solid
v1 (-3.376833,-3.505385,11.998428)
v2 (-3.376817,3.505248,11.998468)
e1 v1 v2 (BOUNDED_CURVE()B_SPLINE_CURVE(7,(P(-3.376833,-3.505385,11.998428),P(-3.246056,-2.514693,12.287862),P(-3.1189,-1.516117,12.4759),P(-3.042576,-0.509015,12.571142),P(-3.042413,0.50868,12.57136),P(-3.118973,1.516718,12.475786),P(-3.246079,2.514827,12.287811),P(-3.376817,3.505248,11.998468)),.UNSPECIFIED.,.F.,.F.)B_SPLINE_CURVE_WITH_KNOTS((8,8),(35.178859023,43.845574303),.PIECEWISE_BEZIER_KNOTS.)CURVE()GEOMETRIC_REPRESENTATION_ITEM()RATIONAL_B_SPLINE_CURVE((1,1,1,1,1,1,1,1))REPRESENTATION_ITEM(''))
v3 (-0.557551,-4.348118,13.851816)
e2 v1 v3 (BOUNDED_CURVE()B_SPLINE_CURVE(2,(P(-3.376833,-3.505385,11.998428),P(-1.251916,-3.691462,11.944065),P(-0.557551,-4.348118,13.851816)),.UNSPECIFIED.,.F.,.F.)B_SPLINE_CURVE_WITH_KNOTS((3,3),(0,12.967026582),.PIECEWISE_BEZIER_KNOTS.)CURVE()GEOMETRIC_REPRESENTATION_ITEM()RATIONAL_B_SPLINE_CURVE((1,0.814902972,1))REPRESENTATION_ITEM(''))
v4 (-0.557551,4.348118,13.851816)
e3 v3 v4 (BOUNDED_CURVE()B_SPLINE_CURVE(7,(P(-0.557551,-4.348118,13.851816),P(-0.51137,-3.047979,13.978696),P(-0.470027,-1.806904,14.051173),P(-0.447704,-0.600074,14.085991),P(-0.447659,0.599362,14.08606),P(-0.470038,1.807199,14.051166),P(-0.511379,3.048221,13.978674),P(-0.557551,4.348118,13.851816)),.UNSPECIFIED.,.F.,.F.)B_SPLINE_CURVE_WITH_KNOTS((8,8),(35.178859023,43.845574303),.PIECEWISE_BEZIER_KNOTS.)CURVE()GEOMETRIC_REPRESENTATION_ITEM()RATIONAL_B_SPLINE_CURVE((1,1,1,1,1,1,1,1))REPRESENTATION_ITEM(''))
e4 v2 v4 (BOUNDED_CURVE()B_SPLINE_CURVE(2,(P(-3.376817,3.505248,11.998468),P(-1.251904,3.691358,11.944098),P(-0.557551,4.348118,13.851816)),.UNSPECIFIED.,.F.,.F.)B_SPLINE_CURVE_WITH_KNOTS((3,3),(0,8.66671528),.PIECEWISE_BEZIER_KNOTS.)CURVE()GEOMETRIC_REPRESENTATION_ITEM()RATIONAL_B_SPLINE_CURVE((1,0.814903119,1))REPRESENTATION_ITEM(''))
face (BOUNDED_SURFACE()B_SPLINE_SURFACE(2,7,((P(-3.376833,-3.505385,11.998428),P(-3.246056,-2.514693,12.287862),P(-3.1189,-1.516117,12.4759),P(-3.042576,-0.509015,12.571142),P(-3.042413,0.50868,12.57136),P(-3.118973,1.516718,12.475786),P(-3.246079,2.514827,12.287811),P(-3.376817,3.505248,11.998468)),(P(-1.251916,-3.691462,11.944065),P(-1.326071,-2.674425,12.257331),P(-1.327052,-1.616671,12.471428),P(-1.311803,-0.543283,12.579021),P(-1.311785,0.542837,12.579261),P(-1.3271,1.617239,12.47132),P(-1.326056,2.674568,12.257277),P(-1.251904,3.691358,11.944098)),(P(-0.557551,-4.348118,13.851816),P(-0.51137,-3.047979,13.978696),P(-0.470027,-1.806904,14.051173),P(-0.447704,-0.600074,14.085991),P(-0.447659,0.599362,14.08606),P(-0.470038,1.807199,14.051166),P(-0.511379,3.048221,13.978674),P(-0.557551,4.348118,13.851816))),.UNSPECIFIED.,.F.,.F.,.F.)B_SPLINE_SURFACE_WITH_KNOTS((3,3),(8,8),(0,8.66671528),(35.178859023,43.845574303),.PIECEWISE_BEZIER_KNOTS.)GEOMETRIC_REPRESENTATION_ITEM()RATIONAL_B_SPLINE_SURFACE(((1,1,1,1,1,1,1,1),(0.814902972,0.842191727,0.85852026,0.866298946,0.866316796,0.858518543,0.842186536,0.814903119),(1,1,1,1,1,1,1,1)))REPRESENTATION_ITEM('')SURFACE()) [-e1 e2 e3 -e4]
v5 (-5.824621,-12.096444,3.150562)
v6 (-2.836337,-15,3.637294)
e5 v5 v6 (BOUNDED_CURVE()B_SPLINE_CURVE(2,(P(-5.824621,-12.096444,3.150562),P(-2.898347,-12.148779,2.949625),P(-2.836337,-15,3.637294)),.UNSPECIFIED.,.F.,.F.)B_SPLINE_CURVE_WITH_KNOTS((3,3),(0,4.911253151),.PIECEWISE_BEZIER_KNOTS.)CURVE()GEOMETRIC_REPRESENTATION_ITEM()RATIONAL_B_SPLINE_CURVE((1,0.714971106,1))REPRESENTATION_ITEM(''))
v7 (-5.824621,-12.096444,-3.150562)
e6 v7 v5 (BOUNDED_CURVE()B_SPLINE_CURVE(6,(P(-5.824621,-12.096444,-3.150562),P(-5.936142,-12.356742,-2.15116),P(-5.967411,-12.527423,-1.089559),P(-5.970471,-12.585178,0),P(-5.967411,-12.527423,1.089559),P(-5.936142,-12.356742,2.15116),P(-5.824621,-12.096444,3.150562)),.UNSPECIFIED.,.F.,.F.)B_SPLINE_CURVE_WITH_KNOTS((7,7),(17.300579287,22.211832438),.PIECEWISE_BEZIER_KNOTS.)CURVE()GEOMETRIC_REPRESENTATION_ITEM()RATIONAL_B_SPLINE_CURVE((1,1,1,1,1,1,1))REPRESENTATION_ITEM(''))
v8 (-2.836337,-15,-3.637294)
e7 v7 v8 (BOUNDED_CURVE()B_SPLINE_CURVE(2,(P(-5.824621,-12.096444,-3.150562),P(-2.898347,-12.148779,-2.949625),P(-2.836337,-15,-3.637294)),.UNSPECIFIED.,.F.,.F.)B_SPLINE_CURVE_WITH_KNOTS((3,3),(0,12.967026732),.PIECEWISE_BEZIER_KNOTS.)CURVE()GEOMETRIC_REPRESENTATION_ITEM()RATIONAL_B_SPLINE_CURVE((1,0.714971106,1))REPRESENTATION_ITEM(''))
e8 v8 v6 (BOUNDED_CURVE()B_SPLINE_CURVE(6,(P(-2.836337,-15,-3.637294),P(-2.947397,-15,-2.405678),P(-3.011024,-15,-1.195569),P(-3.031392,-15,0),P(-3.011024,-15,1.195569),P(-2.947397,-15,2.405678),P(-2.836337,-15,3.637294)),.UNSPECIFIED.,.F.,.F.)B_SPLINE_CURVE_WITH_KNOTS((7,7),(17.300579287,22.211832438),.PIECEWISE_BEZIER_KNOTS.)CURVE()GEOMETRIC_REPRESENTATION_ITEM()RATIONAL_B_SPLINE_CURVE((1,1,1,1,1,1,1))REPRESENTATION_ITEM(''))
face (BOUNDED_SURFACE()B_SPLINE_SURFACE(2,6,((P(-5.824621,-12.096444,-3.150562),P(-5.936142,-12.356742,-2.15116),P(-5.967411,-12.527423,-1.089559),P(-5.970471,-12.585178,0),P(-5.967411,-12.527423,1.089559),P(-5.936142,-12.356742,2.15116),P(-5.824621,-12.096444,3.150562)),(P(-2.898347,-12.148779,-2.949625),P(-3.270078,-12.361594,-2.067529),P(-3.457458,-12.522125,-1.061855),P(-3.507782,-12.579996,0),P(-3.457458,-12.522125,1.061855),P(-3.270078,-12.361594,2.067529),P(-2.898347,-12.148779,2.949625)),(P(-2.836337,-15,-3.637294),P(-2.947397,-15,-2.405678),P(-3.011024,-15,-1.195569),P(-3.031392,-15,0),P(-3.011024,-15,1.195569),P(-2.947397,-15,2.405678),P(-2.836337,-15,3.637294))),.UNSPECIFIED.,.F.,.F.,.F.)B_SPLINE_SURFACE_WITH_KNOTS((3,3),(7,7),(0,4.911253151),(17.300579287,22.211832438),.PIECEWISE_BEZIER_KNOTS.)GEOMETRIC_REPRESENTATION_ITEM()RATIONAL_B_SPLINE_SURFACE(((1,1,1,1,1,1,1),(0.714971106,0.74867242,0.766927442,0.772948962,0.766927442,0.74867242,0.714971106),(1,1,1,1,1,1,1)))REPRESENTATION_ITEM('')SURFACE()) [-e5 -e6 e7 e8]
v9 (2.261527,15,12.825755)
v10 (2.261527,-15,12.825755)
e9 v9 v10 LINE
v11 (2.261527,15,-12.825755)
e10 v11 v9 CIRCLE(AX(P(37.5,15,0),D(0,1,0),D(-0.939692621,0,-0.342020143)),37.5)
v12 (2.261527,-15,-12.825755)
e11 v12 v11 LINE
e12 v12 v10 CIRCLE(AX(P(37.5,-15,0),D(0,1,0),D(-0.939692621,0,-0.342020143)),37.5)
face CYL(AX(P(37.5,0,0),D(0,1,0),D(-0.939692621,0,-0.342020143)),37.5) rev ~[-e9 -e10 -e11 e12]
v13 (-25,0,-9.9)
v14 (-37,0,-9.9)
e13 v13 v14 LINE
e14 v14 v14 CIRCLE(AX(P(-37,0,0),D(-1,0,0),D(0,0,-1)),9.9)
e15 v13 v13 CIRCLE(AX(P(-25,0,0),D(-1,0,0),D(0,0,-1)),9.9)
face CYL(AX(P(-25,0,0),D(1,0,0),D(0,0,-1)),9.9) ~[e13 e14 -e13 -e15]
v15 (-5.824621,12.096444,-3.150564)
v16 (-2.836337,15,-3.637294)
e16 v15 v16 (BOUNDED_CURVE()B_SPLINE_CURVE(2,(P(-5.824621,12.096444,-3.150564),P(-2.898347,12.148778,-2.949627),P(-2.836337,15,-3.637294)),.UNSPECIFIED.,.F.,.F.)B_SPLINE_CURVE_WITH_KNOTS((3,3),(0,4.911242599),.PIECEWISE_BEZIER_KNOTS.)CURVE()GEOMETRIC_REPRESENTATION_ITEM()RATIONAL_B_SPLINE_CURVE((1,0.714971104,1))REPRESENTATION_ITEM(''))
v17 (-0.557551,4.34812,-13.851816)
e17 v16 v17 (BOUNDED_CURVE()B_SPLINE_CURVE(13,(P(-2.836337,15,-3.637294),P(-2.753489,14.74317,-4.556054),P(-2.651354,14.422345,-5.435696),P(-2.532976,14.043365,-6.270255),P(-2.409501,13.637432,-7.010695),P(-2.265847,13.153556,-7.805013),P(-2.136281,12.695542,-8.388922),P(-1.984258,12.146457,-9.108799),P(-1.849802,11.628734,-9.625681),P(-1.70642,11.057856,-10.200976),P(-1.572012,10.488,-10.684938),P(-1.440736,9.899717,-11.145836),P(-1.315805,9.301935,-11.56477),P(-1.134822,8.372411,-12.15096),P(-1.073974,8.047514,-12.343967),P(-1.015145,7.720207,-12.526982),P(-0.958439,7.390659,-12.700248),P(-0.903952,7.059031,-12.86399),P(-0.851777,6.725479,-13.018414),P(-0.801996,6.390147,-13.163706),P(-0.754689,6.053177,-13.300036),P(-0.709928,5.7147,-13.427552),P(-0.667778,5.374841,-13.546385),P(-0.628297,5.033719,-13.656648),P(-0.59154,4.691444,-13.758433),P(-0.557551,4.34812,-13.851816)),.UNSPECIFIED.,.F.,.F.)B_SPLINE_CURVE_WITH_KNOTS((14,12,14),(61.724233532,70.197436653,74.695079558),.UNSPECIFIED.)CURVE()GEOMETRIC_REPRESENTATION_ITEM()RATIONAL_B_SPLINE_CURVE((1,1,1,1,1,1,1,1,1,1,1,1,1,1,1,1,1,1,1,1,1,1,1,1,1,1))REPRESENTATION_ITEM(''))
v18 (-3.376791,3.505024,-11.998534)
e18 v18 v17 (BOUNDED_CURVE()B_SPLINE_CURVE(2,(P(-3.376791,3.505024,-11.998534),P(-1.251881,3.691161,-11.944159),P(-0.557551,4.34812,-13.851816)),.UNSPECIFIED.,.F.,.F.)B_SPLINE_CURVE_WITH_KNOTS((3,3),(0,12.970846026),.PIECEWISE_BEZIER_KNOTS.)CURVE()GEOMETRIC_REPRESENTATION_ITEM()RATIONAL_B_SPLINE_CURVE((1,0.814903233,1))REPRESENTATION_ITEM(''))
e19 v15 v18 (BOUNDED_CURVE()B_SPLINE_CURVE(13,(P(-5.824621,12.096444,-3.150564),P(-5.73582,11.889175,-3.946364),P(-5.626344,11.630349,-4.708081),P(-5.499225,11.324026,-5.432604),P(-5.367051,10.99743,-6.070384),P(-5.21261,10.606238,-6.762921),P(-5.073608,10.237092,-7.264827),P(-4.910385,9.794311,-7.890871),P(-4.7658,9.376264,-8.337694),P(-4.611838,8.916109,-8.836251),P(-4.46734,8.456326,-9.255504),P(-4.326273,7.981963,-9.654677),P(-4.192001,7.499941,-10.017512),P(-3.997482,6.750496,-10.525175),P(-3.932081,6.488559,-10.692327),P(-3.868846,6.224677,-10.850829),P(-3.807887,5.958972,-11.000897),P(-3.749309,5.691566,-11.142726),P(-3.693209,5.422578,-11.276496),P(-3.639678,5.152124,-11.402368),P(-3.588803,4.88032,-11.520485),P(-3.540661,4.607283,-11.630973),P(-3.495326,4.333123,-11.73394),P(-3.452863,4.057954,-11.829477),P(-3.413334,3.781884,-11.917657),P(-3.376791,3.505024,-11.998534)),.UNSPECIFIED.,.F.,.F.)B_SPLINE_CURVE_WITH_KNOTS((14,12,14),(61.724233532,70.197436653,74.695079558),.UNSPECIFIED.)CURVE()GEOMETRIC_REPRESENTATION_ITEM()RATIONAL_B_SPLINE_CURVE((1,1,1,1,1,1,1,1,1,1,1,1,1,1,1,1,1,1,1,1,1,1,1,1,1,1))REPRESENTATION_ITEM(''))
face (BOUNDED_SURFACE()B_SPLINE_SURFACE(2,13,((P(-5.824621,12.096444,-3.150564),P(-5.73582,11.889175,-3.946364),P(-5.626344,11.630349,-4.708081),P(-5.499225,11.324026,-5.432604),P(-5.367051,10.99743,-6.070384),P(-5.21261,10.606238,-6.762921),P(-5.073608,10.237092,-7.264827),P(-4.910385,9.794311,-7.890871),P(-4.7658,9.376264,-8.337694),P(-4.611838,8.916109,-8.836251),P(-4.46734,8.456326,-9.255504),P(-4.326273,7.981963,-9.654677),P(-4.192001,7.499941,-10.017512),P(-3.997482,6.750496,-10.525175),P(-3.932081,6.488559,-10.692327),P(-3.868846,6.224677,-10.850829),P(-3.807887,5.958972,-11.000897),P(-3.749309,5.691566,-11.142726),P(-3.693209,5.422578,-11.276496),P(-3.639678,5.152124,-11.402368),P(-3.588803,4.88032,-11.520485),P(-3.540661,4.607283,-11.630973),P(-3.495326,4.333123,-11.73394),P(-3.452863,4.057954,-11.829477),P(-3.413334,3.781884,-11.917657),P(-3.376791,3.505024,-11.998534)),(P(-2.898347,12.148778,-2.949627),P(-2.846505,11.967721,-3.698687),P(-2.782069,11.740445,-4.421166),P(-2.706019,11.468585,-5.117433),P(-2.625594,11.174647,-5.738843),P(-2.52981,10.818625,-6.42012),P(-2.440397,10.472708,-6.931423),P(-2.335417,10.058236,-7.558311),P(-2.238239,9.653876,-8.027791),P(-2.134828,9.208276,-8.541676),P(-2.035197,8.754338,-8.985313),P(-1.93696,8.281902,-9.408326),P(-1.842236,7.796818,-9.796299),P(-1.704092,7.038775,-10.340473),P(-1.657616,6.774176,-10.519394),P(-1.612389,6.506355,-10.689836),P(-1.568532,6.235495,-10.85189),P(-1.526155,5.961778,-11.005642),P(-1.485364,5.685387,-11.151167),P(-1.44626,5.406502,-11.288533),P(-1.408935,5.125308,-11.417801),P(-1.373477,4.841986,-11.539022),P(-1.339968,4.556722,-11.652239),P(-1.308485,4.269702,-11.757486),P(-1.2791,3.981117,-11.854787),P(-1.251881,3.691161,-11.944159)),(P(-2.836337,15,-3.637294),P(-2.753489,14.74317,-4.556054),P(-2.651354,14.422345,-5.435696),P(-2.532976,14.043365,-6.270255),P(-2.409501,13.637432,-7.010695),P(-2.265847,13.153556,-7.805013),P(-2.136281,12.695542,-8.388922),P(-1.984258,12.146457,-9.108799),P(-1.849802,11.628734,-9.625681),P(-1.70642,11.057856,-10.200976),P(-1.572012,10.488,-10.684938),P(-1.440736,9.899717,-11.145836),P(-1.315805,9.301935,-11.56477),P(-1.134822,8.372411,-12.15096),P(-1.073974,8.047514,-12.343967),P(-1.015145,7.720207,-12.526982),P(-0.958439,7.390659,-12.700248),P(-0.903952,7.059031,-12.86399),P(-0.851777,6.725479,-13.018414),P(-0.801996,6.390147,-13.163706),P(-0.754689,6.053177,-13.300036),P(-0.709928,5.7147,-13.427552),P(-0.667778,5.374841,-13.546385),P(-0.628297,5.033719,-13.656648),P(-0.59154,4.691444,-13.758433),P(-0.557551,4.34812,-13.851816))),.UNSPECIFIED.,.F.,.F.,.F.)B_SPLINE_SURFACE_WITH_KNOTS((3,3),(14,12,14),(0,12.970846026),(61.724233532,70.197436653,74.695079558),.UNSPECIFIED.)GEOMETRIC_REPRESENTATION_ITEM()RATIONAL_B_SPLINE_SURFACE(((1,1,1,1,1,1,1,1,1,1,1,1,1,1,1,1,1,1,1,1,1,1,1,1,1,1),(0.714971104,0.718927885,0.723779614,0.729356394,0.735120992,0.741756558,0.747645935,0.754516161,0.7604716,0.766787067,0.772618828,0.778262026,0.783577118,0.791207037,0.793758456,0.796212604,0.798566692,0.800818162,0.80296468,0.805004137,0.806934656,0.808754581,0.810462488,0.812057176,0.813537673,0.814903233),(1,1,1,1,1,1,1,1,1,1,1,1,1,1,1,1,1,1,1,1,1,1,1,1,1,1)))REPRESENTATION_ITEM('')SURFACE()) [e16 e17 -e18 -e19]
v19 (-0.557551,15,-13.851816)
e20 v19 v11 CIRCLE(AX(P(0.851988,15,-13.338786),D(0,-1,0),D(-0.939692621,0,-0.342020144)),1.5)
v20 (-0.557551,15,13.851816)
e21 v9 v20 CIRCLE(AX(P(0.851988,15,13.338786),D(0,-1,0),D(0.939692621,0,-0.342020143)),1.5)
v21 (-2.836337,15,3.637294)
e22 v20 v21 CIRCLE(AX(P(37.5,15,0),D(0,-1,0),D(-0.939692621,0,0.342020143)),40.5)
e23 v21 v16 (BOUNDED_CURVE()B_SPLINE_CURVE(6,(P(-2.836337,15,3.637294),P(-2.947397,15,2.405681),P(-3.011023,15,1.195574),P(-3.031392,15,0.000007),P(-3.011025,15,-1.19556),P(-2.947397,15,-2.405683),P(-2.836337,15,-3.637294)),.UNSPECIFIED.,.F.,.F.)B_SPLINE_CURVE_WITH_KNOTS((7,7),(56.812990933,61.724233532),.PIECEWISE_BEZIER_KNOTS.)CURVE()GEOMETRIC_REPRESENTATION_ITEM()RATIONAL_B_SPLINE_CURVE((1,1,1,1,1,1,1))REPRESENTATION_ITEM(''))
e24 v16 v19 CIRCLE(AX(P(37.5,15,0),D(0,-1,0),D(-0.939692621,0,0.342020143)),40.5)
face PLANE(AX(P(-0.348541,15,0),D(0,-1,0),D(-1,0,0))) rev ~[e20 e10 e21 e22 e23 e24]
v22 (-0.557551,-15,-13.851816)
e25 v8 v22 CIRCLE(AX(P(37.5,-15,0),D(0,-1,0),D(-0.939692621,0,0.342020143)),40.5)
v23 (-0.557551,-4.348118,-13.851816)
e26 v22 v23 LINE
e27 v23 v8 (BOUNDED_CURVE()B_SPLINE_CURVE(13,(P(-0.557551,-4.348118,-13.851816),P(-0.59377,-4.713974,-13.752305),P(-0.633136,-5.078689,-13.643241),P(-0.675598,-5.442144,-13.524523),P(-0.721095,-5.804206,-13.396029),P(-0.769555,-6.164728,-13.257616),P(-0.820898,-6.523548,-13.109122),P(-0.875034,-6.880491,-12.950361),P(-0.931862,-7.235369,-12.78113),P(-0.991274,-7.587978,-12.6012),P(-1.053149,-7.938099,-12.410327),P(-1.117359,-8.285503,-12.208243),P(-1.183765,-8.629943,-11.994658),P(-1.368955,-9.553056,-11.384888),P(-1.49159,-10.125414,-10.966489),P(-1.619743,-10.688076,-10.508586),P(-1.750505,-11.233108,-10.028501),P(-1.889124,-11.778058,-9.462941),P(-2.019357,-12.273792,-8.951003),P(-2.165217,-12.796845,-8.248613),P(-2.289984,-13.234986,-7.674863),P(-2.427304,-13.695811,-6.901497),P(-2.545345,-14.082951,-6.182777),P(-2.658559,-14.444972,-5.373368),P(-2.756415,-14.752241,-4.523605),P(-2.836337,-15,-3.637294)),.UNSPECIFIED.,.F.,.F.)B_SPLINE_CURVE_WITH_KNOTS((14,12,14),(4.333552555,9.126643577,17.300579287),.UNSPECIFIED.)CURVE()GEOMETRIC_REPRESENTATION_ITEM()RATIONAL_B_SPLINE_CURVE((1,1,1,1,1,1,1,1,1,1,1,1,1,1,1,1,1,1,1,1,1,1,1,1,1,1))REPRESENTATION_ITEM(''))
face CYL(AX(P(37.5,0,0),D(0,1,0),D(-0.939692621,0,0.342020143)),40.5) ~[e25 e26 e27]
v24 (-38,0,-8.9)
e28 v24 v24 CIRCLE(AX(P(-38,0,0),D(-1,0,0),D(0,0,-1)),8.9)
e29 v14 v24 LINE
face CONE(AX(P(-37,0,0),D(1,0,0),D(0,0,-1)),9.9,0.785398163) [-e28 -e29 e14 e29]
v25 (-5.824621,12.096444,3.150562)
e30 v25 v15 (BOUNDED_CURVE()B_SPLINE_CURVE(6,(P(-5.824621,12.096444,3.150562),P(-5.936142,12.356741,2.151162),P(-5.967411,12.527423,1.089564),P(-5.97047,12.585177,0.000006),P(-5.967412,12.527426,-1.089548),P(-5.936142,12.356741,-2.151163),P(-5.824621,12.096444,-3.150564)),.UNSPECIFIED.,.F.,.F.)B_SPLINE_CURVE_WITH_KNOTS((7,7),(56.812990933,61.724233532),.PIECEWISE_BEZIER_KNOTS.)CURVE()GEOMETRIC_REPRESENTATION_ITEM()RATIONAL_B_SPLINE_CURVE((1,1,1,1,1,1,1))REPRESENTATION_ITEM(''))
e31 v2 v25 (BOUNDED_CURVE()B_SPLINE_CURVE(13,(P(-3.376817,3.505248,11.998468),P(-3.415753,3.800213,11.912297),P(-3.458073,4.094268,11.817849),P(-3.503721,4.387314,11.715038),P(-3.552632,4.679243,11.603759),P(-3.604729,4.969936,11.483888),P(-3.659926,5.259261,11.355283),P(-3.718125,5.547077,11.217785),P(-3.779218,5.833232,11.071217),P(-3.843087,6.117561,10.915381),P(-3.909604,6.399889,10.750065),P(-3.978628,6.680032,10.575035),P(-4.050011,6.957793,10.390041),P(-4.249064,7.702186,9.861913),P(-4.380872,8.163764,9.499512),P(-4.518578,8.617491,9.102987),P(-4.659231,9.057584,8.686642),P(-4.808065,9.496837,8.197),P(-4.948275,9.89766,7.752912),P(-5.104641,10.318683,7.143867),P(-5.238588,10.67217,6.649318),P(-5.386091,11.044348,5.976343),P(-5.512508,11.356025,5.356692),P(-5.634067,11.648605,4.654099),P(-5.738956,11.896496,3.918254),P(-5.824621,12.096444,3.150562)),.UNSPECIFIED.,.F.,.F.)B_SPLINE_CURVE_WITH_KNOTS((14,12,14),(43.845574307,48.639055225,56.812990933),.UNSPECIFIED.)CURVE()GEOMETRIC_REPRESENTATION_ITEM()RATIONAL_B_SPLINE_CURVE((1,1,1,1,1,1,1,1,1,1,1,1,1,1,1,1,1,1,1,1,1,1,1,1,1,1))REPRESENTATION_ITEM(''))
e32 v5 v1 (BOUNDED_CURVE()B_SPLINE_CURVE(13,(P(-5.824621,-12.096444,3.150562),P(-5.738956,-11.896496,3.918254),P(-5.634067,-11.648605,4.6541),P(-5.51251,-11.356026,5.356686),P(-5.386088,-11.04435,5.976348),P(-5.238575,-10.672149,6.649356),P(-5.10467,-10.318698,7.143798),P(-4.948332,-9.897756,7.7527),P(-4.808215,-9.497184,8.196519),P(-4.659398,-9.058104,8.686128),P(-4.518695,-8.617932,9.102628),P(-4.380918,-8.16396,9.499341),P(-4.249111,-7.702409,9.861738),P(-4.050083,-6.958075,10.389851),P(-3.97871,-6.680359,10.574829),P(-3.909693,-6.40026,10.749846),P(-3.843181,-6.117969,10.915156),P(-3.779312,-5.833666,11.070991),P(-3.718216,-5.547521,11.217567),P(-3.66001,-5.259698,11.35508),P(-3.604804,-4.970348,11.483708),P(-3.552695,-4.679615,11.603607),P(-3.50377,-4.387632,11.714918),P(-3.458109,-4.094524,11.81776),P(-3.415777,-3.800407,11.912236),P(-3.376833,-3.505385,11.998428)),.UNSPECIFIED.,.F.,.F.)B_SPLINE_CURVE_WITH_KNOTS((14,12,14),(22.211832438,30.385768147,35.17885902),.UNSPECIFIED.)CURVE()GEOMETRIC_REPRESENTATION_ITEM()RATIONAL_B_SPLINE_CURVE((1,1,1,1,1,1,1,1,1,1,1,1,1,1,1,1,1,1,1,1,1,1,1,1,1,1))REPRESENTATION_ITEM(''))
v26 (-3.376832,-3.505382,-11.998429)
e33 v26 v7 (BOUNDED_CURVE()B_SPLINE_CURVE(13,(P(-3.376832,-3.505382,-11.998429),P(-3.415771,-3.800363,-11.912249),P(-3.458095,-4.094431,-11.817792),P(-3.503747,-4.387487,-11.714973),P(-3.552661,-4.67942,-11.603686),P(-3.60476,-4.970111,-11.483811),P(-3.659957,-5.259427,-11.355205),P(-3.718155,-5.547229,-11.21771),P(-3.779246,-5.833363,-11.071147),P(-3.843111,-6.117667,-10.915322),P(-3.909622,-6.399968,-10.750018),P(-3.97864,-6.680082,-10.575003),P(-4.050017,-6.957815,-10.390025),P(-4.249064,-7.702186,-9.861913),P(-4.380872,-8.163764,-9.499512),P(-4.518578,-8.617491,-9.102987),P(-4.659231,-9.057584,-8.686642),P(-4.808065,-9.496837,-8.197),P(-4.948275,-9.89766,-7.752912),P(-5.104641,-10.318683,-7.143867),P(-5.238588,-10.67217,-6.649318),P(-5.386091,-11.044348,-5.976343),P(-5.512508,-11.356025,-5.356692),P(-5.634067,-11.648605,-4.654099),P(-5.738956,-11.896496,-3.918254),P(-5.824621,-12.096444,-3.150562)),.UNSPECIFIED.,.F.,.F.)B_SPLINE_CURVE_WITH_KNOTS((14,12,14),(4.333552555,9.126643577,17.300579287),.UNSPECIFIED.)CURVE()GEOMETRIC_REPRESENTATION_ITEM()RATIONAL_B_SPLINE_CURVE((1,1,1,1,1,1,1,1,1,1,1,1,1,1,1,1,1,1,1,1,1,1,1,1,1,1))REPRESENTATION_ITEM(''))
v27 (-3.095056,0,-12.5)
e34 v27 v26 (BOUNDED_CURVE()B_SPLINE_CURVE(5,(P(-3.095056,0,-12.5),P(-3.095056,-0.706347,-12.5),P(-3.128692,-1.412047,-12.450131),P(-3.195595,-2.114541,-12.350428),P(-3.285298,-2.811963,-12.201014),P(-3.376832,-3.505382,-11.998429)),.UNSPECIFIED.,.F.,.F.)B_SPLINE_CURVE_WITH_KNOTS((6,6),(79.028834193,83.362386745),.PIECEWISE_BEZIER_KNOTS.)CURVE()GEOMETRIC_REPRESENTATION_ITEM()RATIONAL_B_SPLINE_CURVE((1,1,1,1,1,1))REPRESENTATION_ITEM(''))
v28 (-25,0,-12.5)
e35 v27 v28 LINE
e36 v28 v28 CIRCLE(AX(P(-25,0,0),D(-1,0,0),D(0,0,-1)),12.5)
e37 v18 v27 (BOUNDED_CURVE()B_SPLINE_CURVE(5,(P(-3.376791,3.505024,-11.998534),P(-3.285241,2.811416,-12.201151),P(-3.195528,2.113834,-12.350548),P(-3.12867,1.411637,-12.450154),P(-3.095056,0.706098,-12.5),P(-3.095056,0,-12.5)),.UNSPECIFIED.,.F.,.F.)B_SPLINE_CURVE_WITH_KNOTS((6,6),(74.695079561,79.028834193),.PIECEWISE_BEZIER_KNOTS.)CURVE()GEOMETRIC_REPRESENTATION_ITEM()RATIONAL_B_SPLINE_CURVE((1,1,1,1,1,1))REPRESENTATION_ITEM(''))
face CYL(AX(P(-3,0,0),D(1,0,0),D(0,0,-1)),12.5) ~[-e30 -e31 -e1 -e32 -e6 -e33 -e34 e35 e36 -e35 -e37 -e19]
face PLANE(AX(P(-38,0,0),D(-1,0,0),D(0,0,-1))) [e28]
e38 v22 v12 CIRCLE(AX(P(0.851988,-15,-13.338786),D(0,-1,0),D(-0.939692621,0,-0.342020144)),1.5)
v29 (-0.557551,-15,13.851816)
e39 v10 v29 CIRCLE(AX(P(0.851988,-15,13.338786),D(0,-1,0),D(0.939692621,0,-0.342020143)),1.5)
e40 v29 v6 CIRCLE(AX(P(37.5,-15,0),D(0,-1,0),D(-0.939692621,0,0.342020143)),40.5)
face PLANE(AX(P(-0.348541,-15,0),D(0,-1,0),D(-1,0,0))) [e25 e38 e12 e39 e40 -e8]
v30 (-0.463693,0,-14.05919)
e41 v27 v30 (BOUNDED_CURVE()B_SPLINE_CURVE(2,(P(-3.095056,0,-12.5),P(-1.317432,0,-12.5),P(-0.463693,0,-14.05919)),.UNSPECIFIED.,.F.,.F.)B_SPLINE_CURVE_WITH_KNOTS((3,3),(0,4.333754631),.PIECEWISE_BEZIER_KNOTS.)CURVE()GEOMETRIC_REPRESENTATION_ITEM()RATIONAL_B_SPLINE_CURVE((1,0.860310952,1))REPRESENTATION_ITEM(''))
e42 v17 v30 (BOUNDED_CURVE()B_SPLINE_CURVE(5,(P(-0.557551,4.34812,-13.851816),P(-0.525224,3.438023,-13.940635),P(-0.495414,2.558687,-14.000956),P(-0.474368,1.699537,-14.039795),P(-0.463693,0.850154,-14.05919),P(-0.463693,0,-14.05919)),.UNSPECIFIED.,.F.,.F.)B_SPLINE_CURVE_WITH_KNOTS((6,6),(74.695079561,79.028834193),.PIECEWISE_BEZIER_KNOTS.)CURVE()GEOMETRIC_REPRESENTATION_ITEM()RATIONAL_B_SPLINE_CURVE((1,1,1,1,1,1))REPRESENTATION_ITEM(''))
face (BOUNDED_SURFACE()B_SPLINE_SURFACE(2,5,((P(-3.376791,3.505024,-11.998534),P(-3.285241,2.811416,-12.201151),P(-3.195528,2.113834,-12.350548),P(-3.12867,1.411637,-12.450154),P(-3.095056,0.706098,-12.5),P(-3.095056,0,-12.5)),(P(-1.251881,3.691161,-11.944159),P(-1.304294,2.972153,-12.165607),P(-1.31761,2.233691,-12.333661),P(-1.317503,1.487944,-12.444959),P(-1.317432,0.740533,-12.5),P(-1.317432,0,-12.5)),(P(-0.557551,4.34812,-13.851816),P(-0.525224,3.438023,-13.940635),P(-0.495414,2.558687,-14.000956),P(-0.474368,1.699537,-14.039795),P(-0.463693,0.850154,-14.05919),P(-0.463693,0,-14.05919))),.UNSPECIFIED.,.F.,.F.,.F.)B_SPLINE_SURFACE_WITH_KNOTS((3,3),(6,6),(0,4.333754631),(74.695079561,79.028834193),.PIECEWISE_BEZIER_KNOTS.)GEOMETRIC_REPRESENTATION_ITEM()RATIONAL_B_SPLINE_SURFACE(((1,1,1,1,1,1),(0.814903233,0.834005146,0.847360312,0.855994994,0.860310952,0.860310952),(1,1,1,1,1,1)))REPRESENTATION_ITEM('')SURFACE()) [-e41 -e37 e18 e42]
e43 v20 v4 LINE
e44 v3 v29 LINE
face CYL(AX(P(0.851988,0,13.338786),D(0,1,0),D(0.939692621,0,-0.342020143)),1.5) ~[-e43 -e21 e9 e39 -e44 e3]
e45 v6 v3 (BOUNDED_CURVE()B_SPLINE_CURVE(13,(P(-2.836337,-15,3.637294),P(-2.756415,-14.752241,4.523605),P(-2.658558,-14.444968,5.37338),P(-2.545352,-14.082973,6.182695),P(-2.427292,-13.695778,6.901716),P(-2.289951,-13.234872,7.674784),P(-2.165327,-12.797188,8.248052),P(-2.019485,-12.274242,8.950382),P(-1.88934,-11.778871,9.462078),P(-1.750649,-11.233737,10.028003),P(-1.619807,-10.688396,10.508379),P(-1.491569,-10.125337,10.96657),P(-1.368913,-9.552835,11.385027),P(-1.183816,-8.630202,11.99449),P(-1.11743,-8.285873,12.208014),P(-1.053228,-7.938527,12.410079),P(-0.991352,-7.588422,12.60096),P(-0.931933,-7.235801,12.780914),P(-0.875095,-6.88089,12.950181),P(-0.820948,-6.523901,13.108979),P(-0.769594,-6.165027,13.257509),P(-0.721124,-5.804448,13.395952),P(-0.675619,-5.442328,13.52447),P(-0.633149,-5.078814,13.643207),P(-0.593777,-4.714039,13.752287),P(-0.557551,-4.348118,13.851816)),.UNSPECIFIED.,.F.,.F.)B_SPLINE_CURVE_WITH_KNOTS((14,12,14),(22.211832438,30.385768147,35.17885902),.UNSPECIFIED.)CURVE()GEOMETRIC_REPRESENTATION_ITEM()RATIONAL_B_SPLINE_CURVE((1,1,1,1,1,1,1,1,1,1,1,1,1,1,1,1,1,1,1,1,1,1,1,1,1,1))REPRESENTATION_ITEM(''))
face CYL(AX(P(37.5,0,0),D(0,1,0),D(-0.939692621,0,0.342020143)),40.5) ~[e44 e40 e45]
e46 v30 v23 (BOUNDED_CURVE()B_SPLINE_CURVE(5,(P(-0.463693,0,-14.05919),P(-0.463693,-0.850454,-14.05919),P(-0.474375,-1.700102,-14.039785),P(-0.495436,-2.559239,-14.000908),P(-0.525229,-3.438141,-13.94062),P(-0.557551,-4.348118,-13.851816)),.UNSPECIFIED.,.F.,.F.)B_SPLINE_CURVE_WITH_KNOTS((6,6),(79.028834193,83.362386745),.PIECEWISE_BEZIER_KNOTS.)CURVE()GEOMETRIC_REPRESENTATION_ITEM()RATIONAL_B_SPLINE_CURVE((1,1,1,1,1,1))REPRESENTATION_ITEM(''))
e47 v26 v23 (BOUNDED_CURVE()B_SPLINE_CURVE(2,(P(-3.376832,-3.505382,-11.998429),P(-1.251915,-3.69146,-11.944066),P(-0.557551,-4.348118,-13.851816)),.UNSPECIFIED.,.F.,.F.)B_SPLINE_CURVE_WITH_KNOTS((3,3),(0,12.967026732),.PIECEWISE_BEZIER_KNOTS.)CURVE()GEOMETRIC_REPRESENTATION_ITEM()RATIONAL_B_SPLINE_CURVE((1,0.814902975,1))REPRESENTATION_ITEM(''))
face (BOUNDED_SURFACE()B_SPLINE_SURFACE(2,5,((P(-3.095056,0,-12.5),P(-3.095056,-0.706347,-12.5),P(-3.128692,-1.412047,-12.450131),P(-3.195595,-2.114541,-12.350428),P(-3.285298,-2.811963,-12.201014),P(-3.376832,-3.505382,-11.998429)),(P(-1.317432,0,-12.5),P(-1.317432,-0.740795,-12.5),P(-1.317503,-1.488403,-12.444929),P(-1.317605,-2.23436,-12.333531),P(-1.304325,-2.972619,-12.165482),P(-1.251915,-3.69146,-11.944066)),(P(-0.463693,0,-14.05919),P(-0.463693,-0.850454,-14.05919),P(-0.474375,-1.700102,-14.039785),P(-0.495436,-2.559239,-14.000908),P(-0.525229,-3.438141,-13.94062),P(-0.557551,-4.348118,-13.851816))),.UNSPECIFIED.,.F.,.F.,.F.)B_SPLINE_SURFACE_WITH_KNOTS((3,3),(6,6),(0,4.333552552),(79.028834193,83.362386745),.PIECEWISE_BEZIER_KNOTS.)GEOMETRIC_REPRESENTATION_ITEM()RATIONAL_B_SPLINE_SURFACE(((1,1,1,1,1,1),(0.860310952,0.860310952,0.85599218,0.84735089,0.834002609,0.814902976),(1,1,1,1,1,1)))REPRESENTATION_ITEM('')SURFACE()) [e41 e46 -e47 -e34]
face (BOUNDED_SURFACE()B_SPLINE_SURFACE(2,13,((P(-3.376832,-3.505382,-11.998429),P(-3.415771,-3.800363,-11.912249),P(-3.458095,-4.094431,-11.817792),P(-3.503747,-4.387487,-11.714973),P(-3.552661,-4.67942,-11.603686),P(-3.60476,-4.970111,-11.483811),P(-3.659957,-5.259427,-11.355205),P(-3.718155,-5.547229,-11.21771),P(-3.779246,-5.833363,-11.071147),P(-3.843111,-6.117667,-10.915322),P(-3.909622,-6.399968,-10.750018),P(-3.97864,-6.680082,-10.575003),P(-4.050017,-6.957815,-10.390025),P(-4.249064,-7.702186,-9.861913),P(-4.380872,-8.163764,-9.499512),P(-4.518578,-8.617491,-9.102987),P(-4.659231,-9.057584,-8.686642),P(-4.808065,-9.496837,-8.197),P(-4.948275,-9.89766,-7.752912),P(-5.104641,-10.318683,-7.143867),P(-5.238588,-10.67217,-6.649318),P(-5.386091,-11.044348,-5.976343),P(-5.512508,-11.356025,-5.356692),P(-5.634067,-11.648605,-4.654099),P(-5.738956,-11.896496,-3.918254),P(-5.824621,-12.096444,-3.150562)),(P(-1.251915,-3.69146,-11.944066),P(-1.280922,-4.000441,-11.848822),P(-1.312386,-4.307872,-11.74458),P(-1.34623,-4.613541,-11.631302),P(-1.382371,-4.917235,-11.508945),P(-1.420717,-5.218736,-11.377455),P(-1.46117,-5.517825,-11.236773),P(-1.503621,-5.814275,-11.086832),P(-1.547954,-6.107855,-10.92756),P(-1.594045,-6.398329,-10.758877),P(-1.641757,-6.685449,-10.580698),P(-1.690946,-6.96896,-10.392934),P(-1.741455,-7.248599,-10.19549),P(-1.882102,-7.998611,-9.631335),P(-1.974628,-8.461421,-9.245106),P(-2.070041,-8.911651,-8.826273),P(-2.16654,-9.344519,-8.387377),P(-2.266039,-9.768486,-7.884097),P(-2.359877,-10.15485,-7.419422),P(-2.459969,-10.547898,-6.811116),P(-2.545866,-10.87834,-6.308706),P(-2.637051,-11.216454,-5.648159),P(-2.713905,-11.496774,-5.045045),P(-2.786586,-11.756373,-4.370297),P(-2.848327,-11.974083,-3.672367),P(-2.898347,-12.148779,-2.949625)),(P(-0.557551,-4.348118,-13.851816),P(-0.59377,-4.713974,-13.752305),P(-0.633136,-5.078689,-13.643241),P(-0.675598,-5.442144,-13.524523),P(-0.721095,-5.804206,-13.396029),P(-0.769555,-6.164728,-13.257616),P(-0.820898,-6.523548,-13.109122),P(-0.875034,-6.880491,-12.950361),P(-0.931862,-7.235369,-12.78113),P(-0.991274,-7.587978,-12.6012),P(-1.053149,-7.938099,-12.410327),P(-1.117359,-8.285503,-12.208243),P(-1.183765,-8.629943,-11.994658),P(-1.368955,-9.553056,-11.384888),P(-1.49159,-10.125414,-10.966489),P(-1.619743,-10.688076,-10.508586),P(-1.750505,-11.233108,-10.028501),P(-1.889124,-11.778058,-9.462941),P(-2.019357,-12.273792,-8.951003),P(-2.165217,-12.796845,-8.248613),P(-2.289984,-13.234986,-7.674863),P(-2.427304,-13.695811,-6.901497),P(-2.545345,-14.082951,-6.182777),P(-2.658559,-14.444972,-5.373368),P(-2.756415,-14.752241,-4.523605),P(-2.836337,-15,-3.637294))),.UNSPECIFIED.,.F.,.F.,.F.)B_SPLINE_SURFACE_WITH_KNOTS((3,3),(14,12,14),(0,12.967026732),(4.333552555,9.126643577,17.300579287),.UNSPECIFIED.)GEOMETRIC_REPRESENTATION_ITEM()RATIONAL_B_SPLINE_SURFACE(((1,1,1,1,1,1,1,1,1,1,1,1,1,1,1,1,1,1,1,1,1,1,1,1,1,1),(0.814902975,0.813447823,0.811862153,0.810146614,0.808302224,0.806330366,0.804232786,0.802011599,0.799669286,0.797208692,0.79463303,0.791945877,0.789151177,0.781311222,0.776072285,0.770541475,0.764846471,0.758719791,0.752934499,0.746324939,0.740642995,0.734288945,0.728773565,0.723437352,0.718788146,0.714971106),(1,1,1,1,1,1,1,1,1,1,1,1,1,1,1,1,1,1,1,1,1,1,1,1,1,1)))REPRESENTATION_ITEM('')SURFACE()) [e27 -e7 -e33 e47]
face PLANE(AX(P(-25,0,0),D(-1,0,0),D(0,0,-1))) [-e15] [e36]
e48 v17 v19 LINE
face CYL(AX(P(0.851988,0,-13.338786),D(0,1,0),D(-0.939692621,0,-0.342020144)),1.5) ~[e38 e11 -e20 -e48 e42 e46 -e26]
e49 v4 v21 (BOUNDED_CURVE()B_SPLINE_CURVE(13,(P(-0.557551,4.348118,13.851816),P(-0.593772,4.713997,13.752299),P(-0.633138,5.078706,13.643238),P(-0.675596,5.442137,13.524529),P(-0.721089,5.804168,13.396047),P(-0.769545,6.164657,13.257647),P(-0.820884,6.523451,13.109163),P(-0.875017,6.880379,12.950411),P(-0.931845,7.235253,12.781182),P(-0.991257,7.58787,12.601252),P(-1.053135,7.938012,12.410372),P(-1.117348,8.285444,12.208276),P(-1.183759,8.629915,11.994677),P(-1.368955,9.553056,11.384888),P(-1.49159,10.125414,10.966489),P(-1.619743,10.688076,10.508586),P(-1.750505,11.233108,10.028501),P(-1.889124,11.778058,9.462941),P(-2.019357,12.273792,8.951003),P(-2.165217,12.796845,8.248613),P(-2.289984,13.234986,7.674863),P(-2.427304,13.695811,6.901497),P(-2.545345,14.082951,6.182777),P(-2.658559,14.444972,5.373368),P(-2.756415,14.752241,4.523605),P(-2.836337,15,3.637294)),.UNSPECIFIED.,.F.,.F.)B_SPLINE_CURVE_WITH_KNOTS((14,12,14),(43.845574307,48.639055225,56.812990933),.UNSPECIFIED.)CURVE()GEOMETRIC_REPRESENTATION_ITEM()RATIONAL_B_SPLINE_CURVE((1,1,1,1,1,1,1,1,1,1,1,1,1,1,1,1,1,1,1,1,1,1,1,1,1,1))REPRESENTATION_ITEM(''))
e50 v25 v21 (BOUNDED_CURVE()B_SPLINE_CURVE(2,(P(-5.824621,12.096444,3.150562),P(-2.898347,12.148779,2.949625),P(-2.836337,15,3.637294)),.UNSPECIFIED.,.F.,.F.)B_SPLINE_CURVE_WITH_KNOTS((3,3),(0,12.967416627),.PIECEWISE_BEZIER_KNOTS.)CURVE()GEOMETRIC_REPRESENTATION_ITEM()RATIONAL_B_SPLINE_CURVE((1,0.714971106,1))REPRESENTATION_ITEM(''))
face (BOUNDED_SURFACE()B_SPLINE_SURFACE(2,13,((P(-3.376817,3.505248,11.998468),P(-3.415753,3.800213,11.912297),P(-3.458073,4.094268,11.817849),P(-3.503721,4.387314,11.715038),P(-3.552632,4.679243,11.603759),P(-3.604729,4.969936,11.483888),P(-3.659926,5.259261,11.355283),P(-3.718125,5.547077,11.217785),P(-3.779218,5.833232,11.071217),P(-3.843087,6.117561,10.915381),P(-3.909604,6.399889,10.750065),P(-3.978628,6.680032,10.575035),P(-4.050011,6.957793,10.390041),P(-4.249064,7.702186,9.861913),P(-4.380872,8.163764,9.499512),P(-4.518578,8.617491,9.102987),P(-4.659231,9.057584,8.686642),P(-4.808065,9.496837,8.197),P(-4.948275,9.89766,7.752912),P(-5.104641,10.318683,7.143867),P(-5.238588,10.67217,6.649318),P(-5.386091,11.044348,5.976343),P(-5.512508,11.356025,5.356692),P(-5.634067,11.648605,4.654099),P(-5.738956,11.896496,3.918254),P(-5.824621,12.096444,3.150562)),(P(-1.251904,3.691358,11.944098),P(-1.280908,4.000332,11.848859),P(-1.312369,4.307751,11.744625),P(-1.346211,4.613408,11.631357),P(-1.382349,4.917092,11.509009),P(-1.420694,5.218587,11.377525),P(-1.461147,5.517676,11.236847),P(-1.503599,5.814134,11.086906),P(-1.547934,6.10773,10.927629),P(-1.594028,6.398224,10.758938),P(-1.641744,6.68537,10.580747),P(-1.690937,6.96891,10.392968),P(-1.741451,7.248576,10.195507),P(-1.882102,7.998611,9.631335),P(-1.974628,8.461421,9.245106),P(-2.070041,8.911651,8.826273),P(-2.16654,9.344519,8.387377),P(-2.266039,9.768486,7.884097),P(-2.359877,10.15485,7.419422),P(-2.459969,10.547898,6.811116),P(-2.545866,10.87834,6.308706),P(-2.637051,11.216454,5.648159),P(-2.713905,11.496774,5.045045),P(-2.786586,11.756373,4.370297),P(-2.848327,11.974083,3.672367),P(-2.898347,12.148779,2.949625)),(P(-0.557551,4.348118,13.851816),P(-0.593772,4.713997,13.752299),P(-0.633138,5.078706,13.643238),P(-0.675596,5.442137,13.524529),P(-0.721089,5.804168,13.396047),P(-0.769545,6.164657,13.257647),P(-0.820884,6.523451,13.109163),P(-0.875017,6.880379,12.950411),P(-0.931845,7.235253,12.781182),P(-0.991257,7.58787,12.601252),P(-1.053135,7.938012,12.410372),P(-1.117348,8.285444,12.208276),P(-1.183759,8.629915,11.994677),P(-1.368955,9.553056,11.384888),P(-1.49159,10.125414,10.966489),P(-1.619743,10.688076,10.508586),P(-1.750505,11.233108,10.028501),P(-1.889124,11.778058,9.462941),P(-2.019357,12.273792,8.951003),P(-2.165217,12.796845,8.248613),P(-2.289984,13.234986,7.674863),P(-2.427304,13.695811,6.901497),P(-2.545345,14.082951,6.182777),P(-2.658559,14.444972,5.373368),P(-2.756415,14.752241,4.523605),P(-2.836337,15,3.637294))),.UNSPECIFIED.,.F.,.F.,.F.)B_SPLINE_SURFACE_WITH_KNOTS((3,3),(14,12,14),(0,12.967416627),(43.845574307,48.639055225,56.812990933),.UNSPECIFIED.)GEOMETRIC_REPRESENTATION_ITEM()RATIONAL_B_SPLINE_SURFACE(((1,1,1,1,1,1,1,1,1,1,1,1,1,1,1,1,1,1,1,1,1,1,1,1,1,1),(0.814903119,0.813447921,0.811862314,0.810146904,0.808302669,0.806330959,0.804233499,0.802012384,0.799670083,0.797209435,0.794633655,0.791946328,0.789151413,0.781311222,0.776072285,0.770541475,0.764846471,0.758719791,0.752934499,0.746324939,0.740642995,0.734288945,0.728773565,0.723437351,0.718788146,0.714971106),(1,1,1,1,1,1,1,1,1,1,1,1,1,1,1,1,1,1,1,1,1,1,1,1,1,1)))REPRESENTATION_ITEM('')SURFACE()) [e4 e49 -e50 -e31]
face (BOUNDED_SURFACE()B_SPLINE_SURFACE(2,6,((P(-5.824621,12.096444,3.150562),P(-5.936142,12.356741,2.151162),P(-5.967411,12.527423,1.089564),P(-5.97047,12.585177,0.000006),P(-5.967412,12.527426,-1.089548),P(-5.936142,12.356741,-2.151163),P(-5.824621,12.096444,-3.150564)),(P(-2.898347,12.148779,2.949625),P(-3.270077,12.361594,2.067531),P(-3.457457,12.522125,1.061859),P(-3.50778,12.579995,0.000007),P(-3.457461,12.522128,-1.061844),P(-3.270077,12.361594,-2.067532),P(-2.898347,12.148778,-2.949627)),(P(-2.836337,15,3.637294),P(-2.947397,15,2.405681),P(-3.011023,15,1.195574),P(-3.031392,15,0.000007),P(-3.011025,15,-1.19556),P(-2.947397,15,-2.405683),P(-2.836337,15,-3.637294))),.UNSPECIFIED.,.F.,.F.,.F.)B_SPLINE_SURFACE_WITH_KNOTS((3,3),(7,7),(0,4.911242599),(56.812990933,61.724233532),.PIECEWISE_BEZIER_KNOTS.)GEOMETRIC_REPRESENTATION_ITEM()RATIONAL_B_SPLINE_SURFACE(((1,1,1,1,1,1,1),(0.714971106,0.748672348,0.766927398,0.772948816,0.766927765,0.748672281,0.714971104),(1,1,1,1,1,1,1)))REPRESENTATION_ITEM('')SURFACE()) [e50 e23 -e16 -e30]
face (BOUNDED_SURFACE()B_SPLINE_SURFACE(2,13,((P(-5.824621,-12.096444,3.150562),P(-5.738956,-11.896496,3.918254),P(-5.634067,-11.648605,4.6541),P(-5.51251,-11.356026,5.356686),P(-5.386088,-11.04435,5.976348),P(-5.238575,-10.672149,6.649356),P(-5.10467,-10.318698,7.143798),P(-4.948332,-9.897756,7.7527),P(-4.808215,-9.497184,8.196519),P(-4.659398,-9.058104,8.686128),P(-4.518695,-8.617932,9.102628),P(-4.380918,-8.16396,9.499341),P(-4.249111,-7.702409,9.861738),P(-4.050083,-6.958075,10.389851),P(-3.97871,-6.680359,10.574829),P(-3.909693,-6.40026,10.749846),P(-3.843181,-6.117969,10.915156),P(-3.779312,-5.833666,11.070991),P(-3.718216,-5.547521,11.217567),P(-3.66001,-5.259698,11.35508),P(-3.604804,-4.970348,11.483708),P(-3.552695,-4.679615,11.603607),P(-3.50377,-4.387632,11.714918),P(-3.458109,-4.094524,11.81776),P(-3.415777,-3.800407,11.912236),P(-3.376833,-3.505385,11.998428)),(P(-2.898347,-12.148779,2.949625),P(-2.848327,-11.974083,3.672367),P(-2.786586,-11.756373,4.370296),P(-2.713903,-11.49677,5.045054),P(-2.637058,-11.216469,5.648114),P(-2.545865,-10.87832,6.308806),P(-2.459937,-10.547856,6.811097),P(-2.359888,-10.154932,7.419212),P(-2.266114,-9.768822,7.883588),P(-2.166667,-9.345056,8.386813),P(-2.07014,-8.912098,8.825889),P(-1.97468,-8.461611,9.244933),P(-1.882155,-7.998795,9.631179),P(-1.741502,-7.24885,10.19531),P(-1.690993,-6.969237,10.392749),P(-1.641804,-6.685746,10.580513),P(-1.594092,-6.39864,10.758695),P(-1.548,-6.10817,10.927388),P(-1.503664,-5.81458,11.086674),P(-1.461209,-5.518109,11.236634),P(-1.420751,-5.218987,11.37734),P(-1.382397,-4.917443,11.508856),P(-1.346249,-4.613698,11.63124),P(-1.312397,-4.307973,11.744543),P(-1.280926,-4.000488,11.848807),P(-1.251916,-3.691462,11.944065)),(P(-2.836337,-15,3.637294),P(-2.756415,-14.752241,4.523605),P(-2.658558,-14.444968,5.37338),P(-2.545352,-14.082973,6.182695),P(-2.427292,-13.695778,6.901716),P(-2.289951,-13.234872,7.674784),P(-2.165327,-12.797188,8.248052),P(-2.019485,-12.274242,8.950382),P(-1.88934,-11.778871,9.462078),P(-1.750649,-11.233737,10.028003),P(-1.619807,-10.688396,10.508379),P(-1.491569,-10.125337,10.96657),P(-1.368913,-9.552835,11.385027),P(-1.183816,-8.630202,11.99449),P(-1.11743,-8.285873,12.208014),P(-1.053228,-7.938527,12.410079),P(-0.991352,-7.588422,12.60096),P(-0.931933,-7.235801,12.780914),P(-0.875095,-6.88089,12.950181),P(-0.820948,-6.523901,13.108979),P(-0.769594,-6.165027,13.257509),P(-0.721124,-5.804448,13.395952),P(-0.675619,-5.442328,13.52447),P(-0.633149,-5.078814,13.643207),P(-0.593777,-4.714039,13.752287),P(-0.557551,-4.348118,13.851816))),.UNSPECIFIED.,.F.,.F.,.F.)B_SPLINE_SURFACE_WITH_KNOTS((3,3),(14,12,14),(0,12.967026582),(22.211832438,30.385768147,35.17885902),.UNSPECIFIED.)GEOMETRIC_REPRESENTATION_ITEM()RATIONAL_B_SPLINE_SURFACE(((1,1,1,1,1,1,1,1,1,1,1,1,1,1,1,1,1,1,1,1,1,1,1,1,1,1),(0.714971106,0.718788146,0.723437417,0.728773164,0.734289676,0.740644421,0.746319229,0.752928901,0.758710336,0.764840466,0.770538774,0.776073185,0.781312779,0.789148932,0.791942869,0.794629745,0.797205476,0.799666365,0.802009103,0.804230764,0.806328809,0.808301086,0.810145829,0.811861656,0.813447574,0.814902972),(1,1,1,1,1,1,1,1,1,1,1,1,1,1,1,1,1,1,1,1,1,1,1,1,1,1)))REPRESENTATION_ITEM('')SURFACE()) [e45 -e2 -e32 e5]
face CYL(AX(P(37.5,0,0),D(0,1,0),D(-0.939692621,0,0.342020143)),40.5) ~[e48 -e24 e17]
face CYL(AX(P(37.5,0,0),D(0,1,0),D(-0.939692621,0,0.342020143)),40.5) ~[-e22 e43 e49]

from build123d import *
from build123d.topology import SkipClean

# Parameters (mm, degrees)
BOSS_EXTRUDE1_DEPTH                  = 15
SKETCH2_R                            = 12.5
BOSS_EXTRUDE2_DEPTH                  = 22
BOSS_EXTRUDE2_DIRECTION_2_REACH      = 23.768
BOSS_EXTRUDE2_DIRECTION_2_END_RADIUS = 40.5
SKETCH3_R                            = 9.9
BOSS_EXTRUDE3_DEPTH                  = 13
CHAMFER1_SIZE                        = 1
FILLET7_R                            = 3


with BuildPart() as part:
    # Sketch1 → Boss-Extrude1 (new, symmetric)
    with BuildSketch(Plane(origin=(0, 0, 0), x_dir=(1, 0, 0), z_dir=(0, 1, 0))):
        with BuildLine():
            ThreePointArc((2.261526721, 12.825755375), (0, 0), (2.261526721, -12.825755375))
            ThreePointArc((2.261526721, -12.825755375), (1.365018004, -14.748324521), (-0.557551142, -13.851815805))
            ThreePointArc((-0.557551142, -13.851815805), (-3, 0), (-0.557551142, 13.851815805))
            ThreePointArc((-0.557551142, 13.851815805), (1.365018004, 14.748324521), (2.261526721, 12.825755375))
        make_face()
    extrude(amount=BOSS_EXTRUDE1_DEPTH, both=True)

    # Sketch2 → Boss-Extrude2 (add)
    with BuildSketch(Plane.ZY.offset(3)):
        with Locations(Location((0, 0, 0), (0, 0, 180))):
            Circle(SKETCH2_R)
    extrude(amount=BOSS_EXTRUDE2_DEPTH)

    # Boss-Extrude2 direction 2: up to this cylinder (the profile starts outside it)
    with SkipClean():  # the faces are left unmerged after this step: merging them gives an invalid solid
        boss_extrude2_direction_2_end = Plane(origin=(37.5, 0, 0), z_dir=(0, -1, 0)) * Cylinder(BOSS_EXTRUDE2_DIRECTION_2_END_RADIUS, 129.536, mode=Mode.PRIVATE)
        # Sketch2 → Boss-Extrude2 direction 2 (add, up to the surface)
        with BuildSketch(Plane.ZY.offset(3), mode=Mode.PRIVATE) as boss_extrude2_direction_2_sk1:
            with Locations(Location((0, 0, 0), (0, 0, 180))):
                Circle(SKETCH2_R)
        boss_extrude2_direction_2_tool1 = extrude(boss_extrude2_direction_2_sk1.sketch, amount=-BOSS_EXTRUDE2_DIRECTION_2_REACH, mode=Mode.PRIVATE) - boss_extrude2_direction_2_end
        add(boss_extrude2_direction_2_tool1.solids().sort_by_distance((-3, 0, 0))[0])
        add(boss_extrude2_direction_2_tool1.solids().sort_by_distance((-3, 0, 0))[1])

    # Sketch3 → Boss-Extrude3 (add)
    with BuildSketch(Plane.ZY.offset(25)):
        with Locations(Location((0, 0, 0), (0, 0, 180))):
            Circle(SKETCH3_R)
    extrude(amount=BOSS_EXTRUDE3_DEPTH)

    # Chamfer1
    chamfer1_edges = [part.edges().sort_by_distance(p)[0] for p in [
        (-38, 0, 9.9),
    ]]
    chamfer(chamfer1_edges, length=CHAMFER1_SIZE)

    # Fillet7
    fillet7_edges = [part.edges().sort_by_distance(p)[0] for p in [
        (-1.022720569, 0, 12.5),
    ]]
    fillet(fillet7_edges, radius=FILLET7_R)


solid = part.part
